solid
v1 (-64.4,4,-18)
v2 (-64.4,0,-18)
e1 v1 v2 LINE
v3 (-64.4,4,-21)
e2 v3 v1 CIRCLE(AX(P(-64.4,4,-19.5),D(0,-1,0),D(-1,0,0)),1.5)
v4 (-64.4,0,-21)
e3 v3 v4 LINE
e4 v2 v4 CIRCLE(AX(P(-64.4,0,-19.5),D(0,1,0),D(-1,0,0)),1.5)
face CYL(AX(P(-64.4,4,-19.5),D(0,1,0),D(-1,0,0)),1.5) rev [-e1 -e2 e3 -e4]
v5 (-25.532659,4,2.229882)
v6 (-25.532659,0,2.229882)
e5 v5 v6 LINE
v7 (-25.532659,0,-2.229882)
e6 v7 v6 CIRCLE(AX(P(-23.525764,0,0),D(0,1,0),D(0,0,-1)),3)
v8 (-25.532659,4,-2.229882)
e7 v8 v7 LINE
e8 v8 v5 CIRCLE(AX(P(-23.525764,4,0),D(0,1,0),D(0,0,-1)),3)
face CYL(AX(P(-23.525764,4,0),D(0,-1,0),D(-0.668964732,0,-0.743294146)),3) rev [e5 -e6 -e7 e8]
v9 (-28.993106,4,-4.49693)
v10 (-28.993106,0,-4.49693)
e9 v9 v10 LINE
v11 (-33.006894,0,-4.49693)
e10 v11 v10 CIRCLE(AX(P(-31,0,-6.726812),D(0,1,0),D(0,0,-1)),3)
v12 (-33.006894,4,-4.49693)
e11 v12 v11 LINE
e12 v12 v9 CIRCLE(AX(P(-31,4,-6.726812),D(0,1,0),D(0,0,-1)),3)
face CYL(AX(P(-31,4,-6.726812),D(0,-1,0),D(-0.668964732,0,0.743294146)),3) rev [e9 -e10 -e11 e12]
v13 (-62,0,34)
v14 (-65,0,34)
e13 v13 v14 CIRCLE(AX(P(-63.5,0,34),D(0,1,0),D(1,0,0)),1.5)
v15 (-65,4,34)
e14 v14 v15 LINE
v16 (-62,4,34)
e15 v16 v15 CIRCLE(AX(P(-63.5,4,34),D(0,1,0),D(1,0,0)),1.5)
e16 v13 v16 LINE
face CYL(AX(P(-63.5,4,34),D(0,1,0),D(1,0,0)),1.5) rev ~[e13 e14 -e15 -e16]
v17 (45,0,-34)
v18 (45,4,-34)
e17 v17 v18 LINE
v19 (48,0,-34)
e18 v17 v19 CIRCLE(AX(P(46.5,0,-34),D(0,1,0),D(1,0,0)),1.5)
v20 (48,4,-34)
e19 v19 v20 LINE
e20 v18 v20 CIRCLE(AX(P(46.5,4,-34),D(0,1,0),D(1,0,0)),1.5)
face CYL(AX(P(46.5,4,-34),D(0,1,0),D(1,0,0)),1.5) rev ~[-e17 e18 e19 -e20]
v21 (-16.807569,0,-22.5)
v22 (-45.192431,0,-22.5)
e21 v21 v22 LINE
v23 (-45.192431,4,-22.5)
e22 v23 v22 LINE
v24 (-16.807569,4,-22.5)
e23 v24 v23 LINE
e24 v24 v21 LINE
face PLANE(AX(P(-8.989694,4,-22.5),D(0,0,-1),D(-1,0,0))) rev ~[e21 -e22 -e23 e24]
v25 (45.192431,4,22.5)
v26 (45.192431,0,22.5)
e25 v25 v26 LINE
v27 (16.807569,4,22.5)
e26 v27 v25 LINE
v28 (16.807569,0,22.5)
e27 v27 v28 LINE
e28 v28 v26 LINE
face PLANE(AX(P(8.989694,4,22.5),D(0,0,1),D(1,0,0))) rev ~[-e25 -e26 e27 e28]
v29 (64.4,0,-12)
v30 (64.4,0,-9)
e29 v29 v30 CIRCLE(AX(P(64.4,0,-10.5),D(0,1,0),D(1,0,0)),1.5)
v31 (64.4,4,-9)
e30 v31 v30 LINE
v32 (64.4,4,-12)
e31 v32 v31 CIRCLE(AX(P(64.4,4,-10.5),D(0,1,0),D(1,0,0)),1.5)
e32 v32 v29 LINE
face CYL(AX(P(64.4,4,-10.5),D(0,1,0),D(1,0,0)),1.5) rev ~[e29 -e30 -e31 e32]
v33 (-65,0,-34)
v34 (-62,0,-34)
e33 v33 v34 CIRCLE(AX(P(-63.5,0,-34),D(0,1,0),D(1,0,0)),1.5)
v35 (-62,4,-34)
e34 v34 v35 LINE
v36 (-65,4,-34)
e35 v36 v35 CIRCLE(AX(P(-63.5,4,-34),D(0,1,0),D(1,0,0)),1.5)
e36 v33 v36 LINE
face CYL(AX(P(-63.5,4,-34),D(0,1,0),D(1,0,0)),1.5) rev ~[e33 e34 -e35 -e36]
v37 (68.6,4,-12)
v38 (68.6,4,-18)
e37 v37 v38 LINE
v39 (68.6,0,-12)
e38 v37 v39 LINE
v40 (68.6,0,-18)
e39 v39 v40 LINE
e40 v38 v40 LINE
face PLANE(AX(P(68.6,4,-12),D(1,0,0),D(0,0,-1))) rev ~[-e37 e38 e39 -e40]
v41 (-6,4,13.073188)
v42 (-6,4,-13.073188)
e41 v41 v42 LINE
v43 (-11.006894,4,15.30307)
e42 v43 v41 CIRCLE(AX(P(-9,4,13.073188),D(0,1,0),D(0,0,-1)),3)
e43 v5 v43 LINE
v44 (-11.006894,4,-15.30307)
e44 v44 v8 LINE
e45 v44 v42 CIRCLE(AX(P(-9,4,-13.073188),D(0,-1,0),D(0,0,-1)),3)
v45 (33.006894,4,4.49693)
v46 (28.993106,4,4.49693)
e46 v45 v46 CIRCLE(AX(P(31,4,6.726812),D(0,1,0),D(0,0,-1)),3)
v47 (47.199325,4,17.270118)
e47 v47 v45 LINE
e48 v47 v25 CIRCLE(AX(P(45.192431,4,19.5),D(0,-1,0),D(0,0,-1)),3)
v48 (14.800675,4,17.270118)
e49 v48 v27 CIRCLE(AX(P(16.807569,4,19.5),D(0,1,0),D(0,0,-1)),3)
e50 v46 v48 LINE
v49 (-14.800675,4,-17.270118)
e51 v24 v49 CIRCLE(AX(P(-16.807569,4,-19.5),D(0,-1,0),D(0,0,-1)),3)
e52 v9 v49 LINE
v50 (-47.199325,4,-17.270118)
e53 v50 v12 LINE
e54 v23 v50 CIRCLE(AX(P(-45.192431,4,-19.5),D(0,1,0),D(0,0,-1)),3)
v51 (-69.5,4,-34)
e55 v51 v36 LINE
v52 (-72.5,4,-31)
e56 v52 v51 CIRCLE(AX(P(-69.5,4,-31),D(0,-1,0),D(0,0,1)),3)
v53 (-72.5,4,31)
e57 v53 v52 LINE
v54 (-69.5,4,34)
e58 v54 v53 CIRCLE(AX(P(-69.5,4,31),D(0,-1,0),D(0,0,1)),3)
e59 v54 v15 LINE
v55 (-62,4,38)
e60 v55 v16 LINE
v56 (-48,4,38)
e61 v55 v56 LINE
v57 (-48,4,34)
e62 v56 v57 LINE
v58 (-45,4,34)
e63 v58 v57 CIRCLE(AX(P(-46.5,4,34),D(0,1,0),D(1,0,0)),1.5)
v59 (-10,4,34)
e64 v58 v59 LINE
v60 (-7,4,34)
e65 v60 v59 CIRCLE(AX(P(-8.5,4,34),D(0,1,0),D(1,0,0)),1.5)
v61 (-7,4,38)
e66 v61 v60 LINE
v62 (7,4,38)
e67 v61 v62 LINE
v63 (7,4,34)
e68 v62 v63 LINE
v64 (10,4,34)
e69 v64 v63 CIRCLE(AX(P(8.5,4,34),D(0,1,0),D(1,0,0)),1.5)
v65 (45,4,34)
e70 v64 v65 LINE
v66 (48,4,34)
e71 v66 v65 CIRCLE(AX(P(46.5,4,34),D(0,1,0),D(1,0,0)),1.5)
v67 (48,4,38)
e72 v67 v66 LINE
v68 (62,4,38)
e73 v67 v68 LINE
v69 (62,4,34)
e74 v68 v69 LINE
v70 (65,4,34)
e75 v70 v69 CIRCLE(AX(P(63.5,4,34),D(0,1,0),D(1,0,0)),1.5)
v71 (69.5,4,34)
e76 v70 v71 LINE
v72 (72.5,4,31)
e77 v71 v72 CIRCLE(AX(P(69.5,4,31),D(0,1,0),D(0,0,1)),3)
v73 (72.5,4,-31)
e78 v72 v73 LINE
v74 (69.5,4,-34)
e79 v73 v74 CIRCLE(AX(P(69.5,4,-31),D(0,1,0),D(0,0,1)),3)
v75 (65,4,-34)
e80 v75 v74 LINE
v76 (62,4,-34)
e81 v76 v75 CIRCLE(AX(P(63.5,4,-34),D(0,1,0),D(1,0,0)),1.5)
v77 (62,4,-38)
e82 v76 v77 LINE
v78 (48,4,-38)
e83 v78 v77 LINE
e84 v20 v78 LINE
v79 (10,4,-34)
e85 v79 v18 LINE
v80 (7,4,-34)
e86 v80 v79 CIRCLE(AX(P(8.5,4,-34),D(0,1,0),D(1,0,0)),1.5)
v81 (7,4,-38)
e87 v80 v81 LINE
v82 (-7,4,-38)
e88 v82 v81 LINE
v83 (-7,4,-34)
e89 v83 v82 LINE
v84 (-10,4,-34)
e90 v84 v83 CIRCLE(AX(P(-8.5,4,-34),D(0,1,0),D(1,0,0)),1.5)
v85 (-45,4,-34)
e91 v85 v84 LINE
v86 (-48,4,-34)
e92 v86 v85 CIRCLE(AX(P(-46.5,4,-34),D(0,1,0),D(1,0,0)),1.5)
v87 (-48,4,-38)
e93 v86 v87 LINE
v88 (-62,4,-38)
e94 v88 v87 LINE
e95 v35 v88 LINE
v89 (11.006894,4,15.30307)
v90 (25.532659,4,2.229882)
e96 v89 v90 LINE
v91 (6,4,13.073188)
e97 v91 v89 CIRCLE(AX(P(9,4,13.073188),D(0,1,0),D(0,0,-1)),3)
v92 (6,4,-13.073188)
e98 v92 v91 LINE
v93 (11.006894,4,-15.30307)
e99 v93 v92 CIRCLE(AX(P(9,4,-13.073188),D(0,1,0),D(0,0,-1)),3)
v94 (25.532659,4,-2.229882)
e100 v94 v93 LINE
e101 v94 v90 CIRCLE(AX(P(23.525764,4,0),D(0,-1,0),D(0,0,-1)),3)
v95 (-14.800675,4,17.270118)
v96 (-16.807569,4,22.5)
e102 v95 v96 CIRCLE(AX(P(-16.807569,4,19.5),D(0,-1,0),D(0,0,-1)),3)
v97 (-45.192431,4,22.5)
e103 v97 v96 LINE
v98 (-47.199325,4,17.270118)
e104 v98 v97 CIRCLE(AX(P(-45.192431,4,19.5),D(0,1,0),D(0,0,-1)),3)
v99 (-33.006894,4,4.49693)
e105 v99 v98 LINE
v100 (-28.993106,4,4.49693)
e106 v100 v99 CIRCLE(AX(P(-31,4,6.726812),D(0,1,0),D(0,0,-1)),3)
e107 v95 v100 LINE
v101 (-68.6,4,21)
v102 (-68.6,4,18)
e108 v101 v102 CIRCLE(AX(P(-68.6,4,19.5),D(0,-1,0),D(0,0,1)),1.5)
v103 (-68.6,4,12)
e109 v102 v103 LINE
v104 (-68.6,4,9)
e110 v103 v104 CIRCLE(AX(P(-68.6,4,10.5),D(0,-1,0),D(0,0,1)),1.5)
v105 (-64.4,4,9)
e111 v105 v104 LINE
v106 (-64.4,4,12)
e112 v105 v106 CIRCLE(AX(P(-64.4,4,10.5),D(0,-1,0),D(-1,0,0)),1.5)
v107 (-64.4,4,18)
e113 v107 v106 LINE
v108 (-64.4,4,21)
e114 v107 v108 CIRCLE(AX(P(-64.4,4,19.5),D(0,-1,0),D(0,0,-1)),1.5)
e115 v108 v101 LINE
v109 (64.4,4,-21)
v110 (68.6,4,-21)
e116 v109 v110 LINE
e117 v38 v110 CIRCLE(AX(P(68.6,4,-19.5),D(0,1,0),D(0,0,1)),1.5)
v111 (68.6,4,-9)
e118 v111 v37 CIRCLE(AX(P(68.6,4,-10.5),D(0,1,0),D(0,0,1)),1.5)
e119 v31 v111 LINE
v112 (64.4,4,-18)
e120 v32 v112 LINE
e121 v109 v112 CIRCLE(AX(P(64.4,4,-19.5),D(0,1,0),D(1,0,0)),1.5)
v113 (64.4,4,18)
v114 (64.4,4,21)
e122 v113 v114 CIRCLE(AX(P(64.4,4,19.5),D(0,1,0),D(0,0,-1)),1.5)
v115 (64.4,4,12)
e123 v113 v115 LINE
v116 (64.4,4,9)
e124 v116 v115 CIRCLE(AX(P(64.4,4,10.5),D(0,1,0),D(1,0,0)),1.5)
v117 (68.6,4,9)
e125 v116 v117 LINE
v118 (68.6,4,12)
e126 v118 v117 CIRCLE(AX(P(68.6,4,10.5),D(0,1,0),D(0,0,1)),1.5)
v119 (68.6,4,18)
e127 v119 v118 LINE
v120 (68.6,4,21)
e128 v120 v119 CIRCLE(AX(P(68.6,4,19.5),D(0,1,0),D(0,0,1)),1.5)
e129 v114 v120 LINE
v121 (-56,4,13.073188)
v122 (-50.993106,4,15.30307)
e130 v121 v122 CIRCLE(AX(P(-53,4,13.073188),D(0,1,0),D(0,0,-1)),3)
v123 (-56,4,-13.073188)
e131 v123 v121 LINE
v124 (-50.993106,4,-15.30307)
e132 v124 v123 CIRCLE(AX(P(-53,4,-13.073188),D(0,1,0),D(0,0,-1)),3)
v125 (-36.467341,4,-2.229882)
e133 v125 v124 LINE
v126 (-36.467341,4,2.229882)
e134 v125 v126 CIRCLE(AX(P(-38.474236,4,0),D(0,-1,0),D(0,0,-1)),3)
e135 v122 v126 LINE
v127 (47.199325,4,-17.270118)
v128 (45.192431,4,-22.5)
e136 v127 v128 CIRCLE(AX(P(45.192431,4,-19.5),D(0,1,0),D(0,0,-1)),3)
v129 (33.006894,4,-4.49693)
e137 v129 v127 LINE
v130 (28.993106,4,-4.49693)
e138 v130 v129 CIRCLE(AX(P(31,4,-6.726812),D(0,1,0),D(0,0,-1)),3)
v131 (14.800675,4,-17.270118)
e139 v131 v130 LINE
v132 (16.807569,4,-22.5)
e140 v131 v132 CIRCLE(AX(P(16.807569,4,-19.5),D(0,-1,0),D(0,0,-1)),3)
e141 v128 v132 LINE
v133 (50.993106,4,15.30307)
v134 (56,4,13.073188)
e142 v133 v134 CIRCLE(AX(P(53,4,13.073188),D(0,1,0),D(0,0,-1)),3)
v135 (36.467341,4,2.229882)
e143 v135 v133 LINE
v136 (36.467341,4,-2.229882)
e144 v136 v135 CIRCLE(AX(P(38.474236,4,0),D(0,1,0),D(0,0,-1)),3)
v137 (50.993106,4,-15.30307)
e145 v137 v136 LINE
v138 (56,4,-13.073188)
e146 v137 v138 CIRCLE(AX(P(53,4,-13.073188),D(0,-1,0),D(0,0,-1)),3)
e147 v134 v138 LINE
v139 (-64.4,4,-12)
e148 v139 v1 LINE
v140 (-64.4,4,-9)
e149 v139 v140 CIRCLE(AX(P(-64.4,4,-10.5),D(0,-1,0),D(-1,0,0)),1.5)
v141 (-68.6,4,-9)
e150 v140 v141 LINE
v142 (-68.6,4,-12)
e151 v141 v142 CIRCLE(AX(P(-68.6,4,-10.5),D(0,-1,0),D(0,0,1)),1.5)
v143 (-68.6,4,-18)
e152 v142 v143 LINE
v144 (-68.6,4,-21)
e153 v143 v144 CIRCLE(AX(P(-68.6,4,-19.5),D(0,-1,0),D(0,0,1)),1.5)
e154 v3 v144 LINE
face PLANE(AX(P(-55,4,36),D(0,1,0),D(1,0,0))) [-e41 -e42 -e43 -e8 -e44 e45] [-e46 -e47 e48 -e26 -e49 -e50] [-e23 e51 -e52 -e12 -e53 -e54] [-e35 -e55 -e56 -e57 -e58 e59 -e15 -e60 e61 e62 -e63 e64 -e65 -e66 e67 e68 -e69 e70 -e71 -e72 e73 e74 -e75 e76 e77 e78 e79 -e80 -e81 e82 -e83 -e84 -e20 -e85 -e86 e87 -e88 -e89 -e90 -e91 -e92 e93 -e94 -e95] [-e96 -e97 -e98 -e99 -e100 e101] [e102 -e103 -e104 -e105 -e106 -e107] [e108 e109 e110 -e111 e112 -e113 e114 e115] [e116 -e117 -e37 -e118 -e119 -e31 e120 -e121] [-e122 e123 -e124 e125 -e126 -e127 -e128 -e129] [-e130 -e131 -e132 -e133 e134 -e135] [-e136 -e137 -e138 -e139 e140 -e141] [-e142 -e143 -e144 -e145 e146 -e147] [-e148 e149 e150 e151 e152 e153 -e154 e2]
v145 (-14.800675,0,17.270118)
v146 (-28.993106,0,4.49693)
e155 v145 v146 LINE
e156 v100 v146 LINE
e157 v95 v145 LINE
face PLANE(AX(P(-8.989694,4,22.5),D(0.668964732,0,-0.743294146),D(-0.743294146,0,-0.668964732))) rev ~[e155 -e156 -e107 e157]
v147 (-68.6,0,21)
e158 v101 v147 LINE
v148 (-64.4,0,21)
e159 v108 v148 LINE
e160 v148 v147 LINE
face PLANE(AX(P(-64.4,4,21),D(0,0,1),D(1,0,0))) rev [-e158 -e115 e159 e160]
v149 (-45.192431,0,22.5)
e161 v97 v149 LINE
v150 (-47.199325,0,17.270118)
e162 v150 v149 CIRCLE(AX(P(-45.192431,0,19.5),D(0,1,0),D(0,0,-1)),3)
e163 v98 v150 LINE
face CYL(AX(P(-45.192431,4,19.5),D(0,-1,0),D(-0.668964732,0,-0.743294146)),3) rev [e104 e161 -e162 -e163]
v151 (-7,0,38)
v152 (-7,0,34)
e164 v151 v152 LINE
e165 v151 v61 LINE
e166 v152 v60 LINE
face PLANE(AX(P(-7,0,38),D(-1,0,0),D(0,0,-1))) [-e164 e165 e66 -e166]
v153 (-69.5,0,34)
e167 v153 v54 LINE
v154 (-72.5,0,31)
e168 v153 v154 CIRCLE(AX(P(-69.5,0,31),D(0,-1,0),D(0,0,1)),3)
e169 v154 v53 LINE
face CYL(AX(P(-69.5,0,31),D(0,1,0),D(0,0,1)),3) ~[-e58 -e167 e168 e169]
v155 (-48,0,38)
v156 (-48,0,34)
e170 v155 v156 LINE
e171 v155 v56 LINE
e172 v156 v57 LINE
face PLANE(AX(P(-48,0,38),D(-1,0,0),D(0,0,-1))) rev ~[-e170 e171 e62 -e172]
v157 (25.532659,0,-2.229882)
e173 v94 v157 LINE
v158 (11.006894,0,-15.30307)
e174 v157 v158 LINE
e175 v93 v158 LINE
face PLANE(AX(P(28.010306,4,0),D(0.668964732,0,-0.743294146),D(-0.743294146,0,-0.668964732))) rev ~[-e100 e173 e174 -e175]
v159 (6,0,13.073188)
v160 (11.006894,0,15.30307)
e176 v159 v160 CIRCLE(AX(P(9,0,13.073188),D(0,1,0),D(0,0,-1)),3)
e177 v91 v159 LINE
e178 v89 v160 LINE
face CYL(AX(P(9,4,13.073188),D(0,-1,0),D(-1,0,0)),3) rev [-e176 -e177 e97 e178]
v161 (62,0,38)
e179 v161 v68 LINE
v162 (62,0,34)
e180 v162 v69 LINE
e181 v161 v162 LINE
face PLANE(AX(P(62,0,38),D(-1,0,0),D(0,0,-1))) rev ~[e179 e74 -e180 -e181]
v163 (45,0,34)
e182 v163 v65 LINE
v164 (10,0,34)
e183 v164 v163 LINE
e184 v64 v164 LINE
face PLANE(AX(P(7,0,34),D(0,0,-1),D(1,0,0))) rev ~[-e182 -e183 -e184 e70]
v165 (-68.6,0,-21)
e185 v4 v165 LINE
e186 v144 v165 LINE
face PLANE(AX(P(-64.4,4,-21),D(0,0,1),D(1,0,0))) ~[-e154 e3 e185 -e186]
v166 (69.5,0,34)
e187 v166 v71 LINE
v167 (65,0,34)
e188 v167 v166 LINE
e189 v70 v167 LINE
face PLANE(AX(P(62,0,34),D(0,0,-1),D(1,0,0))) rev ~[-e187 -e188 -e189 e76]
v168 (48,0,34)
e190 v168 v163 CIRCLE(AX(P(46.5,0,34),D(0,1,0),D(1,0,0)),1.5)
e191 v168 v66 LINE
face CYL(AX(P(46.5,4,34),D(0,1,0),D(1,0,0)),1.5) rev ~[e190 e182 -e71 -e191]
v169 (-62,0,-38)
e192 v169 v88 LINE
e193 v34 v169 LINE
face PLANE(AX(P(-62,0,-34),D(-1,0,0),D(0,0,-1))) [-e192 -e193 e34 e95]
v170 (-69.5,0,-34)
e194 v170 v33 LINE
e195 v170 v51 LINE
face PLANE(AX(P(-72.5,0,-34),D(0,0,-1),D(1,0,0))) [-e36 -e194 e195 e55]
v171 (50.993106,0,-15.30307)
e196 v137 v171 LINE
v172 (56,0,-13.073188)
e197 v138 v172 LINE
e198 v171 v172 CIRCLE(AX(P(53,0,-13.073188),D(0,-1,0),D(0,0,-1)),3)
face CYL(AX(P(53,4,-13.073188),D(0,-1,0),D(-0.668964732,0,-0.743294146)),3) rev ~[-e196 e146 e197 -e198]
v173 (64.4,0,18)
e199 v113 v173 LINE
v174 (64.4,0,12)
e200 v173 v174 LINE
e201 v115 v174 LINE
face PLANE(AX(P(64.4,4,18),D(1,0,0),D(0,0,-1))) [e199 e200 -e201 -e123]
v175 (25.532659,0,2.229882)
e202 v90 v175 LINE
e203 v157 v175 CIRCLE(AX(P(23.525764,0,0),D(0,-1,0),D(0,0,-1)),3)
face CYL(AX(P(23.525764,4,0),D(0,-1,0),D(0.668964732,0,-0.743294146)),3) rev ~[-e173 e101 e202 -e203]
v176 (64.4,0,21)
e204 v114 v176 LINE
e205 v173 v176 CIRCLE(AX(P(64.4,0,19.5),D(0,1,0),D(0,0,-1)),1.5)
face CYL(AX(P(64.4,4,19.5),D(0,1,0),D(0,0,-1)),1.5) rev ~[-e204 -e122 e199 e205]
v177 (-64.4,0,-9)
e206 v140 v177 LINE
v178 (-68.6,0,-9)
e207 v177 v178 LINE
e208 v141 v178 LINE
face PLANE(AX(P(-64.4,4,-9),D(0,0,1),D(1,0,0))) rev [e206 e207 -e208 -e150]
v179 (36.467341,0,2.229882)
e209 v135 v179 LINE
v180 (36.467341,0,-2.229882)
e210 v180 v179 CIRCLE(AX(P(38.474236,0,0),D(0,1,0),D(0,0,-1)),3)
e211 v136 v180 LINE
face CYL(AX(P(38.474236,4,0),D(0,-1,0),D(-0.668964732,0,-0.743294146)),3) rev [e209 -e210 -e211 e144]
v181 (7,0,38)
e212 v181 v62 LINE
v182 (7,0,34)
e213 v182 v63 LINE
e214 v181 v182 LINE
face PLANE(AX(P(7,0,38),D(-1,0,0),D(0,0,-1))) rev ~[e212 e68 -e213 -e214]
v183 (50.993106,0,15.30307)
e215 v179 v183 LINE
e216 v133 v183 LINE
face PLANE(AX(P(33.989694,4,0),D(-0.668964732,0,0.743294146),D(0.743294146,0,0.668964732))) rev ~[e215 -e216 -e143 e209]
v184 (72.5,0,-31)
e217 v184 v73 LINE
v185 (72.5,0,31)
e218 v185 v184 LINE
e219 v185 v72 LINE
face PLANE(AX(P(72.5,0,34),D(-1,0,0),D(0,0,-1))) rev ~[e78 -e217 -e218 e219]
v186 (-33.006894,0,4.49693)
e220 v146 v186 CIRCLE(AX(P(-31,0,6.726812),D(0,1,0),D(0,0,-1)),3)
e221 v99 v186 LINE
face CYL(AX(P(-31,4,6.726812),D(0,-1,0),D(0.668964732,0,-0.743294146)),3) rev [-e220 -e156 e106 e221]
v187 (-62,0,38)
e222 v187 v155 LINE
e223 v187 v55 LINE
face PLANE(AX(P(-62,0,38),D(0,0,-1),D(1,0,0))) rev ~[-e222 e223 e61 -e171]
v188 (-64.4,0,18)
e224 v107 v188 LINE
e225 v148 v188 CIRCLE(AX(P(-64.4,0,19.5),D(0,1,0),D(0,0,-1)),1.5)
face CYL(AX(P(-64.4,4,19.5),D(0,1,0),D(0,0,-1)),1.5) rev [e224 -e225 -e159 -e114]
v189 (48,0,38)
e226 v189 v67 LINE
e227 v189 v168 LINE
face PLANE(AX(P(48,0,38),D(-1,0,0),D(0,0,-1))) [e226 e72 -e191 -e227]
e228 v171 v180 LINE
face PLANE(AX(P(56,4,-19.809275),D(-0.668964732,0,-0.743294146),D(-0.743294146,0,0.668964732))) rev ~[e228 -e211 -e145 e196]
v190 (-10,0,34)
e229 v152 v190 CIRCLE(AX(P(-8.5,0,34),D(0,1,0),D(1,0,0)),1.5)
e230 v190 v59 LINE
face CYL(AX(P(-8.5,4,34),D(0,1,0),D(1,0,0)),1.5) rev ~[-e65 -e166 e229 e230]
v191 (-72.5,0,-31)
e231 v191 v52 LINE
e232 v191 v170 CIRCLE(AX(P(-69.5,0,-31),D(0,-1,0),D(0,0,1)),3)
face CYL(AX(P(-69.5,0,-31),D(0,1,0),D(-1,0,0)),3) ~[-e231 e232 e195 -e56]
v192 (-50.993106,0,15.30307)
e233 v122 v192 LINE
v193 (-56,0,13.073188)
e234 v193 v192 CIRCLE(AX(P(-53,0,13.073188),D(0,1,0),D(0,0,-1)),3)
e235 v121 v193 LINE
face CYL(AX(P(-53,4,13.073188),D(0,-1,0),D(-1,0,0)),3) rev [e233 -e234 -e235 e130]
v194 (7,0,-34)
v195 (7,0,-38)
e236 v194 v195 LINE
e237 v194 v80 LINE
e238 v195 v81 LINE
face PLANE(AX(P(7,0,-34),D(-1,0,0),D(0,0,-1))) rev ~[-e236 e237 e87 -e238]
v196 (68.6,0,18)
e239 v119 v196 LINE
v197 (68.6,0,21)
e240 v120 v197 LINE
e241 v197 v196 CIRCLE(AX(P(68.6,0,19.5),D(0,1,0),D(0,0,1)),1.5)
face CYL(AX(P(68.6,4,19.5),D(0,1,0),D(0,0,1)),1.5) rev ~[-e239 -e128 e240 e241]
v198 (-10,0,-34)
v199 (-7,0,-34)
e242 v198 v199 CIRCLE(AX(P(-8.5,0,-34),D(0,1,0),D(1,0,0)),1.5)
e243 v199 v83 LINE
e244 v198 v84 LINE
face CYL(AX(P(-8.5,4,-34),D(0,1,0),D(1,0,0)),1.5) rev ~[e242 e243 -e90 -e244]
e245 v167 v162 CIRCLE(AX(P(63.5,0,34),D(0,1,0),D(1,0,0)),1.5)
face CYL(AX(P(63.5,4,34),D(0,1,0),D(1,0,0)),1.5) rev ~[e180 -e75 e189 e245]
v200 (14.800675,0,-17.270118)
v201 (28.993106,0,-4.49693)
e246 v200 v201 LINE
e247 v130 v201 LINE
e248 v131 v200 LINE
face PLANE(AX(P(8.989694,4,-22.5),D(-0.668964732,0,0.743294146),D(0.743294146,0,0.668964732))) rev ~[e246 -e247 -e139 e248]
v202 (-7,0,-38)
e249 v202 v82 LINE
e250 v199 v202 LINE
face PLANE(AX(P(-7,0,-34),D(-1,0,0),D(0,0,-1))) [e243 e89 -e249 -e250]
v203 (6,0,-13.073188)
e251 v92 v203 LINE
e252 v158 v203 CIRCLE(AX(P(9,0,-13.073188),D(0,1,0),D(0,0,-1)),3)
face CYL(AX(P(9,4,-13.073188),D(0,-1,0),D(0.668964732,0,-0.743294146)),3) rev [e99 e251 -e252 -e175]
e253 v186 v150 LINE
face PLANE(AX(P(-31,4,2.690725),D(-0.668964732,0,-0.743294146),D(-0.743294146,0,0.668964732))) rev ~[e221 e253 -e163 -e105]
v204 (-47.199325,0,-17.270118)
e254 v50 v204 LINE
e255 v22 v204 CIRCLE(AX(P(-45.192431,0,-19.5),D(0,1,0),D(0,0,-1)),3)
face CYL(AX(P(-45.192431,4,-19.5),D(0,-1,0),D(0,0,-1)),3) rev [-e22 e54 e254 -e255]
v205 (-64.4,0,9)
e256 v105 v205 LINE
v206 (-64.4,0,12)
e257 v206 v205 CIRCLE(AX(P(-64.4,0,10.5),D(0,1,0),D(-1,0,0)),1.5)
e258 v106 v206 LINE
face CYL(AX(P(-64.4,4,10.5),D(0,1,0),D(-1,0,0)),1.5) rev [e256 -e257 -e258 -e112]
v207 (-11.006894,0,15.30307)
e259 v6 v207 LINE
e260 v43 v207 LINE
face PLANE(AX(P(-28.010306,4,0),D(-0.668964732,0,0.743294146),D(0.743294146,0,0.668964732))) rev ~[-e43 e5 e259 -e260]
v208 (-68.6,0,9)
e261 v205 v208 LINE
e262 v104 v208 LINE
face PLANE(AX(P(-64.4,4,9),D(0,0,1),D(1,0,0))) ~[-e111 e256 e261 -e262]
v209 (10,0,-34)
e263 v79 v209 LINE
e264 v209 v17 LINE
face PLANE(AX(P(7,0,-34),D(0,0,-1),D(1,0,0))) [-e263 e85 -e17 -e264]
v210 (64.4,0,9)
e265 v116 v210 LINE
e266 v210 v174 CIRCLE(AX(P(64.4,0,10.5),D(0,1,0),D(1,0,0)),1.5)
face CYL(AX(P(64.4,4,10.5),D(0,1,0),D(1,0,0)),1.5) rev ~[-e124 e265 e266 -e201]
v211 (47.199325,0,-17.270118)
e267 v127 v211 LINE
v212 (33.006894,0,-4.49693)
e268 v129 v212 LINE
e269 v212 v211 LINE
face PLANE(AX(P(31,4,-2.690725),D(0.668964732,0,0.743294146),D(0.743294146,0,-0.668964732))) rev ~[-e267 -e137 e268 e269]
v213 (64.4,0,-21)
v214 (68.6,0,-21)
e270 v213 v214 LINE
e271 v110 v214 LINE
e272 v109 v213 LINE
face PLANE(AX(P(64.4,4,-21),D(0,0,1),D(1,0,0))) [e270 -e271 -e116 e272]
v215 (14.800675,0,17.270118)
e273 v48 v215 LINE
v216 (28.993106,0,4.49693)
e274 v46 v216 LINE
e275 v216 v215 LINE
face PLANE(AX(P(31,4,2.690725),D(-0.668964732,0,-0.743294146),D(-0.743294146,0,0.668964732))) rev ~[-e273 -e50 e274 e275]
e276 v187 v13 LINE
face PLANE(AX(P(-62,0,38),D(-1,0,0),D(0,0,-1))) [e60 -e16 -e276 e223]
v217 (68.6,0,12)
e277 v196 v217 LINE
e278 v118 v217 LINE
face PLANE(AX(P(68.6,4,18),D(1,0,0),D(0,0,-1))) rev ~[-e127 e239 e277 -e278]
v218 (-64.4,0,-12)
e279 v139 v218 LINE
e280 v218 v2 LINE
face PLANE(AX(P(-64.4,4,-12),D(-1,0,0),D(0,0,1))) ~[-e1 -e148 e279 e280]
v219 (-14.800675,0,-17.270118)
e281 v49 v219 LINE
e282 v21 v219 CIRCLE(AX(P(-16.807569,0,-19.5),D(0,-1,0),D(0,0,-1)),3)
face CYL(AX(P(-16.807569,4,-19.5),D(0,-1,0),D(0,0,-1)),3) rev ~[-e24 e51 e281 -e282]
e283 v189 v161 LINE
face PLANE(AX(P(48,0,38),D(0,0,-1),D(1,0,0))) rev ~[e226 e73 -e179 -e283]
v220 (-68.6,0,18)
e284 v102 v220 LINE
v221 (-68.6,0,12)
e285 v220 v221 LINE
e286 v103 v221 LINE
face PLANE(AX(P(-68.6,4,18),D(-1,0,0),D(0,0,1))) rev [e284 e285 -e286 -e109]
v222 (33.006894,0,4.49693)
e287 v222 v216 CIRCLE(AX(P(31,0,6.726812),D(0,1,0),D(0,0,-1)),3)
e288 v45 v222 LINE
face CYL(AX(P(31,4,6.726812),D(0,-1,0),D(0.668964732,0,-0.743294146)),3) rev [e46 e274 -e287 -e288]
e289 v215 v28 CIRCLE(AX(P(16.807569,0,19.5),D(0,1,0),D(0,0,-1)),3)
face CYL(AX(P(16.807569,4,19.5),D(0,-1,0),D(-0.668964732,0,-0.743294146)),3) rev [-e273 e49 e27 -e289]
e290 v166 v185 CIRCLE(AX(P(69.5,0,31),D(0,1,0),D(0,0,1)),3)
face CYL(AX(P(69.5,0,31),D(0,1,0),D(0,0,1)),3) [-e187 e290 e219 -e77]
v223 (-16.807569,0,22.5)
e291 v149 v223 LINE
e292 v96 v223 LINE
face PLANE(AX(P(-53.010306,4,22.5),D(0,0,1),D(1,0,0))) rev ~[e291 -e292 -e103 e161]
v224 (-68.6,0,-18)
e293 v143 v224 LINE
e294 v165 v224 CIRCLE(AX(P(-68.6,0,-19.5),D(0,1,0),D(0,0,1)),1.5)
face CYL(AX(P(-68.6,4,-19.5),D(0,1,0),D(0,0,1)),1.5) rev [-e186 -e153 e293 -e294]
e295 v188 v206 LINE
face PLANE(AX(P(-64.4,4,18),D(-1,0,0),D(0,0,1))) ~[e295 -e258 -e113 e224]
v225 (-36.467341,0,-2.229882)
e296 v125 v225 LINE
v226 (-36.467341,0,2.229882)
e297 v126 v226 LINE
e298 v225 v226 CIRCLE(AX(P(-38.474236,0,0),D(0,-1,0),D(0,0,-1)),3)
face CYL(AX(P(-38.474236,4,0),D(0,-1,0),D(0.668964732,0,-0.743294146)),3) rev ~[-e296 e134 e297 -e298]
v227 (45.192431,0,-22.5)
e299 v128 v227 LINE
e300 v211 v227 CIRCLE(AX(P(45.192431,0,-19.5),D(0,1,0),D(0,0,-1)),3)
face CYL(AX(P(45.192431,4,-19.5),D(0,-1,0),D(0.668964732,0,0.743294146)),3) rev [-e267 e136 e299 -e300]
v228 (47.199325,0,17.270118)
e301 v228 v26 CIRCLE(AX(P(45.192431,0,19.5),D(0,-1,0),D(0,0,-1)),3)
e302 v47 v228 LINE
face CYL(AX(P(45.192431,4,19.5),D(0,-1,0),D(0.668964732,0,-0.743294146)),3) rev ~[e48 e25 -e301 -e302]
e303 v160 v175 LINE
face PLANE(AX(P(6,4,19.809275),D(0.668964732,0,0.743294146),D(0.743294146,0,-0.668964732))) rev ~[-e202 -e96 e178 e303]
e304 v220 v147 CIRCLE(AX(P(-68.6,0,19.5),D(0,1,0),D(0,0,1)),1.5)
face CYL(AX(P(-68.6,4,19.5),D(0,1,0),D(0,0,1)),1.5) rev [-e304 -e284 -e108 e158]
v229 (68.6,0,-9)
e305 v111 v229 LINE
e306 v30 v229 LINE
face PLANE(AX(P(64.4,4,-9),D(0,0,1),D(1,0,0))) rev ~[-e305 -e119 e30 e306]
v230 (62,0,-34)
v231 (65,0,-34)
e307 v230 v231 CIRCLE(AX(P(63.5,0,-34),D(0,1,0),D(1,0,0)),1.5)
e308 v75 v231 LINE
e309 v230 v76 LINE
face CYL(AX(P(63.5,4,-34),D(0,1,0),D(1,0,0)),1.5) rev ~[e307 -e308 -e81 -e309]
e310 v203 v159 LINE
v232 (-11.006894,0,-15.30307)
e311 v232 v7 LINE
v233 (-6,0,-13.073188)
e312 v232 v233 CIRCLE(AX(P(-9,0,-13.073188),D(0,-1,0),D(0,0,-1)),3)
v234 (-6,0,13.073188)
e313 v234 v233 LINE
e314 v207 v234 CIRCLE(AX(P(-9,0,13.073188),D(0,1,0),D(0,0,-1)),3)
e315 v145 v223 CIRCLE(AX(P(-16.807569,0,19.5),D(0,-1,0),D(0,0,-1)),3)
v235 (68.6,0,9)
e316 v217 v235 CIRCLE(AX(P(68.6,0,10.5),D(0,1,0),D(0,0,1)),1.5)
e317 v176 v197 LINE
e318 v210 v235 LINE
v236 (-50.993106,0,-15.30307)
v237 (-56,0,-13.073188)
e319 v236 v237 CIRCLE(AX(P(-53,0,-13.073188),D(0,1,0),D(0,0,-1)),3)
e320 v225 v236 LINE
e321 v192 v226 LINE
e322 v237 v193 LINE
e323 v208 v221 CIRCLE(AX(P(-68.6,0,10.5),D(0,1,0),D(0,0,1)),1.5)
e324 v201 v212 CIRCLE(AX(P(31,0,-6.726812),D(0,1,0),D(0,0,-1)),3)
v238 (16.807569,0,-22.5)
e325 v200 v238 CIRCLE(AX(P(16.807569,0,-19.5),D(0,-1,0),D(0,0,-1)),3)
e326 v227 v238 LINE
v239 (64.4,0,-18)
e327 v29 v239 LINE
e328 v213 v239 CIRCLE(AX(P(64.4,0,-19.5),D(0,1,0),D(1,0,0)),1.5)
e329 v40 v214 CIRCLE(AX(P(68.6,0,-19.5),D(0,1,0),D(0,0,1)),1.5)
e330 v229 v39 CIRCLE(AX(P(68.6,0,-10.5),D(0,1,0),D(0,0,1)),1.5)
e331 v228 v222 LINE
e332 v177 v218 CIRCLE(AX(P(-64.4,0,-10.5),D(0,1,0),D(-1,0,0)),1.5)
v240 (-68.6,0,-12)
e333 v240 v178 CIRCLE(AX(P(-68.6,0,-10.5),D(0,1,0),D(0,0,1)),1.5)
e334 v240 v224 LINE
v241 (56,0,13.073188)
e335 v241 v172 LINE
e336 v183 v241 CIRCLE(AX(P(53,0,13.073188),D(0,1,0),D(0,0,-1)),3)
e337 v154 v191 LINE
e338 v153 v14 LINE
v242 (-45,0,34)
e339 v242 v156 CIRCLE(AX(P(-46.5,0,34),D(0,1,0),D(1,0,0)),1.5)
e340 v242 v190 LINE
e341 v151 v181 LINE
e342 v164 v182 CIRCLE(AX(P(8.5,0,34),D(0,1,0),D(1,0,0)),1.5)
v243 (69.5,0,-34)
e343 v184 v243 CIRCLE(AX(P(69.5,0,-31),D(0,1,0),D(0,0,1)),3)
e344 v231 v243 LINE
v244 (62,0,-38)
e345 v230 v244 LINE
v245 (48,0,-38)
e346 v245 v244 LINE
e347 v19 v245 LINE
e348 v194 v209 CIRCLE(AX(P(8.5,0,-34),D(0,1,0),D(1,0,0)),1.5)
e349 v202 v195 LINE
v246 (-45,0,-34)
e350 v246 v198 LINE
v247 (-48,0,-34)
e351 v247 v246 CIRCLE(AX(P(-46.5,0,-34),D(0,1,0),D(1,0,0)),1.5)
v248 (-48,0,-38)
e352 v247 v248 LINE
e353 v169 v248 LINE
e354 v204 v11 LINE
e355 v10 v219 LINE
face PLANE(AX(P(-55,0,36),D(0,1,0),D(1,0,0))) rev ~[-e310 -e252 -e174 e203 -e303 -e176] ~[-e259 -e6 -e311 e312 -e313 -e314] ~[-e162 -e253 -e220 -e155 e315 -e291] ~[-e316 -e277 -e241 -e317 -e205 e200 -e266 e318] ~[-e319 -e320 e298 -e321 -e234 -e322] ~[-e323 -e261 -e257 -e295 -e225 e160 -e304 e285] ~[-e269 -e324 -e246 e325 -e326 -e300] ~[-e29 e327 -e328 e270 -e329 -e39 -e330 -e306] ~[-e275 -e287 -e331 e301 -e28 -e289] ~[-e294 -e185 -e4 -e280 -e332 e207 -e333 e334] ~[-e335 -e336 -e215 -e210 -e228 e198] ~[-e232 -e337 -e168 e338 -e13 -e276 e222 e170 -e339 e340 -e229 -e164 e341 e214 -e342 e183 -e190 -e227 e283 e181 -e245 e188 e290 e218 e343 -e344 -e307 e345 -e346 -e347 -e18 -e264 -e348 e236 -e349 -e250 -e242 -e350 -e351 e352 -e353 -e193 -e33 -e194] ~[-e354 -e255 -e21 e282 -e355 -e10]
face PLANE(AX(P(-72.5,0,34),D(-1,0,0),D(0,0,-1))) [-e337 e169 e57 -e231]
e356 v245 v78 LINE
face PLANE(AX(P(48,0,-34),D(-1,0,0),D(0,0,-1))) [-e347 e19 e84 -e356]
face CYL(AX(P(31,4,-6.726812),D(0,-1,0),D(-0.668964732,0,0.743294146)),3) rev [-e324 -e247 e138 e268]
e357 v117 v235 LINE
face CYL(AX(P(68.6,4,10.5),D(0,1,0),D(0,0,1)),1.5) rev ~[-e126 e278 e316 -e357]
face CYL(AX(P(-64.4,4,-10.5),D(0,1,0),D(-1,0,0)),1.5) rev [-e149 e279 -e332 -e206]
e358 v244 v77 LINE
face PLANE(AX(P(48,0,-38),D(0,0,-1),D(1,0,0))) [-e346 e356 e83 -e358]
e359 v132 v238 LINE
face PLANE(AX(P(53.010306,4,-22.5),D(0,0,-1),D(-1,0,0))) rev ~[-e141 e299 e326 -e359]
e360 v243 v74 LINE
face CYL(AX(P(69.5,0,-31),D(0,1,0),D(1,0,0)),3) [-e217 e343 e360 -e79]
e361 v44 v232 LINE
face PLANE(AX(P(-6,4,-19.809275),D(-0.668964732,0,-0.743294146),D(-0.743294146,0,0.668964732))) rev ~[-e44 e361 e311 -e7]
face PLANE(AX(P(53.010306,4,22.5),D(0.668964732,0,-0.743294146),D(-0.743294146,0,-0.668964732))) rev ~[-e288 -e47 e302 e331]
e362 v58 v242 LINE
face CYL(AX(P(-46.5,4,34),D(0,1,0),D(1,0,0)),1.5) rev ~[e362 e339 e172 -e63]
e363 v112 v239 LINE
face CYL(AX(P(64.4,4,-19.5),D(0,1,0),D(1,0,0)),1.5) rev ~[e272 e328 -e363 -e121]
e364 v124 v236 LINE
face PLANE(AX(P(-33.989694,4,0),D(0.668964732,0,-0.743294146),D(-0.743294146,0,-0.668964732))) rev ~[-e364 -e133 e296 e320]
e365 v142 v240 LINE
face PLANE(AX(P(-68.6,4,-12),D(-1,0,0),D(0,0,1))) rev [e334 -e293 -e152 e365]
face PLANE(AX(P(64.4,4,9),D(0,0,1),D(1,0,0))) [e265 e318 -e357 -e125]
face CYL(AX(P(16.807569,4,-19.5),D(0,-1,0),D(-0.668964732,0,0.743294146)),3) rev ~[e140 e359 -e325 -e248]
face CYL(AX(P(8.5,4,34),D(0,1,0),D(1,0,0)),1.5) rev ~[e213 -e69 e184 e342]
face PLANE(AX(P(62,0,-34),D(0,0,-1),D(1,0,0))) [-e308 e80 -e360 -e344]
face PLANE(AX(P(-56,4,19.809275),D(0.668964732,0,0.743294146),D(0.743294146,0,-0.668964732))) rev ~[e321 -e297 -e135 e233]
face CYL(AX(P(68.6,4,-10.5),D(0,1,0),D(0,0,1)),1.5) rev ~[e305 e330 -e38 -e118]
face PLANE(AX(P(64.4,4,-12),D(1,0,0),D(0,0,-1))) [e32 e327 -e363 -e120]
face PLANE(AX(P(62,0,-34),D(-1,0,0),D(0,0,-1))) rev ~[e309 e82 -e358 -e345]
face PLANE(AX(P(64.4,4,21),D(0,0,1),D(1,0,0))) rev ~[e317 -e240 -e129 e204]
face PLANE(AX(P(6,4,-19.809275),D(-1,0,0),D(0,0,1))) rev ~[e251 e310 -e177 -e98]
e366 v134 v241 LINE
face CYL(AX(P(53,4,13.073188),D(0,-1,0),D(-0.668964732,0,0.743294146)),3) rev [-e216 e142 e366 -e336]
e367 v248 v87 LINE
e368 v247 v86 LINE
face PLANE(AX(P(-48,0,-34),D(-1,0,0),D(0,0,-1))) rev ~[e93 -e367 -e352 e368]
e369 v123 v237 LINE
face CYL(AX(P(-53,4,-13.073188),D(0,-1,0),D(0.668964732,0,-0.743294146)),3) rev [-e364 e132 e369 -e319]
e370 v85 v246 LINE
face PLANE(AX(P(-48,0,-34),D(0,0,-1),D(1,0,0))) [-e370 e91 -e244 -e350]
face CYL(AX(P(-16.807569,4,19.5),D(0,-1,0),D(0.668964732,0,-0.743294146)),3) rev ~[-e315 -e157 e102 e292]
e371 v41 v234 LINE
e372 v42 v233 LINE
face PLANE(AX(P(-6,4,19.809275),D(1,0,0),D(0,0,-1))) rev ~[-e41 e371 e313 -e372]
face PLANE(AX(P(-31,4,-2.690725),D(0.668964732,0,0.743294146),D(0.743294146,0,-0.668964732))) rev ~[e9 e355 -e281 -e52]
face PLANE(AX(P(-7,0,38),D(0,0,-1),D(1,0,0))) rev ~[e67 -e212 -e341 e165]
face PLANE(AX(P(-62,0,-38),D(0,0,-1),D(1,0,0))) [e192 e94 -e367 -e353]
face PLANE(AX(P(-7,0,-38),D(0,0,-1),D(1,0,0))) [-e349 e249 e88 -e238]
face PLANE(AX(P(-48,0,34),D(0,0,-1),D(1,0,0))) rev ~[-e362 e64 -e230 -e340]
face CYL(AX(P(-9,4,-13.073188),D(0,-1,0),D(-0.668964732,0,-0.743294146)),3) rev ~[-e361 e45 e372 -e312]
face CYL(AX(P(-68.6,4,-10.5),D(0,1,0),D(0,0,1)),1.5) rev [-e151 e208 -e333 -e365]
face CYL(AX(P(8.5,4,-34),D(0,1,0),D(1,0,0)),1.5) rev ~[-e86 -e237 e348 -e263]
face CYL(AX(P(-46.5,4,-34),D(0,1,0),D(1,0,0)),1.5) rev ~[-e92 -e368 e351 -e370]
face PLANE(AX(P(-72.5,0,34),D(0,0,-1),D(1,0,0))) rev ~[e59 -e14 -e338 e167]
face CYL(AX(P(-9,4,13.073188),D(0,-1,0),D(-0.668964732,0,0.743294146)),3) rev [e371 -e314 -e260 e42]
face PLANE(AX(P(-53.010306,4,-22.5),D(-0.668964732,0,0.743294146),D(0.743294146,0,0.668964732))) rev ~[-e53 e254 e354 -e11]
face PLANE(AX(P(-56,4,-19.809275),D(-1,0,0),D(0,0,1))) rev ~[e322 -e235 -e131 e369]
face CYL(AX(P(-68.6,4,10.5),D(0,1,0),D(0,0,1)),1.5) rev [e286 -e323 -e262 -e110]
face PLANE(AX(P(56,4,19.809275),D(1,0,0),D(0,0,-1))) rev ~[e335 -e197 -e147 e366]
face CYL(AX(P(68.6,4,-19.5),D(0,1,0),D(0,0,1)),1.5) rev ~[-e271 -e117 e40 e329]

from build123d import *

# Parameters (mm, degrees)
SKETCH_1_W          = 14
SKETCH_1_H          = 4
SKETCH_1_W_2        = 145
SKETCH_1_H_2        = 68
EXTRUDE_1_DEPTH     = 4
SKETCH_2_R          = 1.5
CUT_EXTRUDE_1_DEPTH = 4
SKETCH_3_R          = 1.5
SKETCH_3_W          = 4.2
SKETCH_3_H          = 12
CUT_EXTRUDE_2_DEPTH = 10
CUT_EXTRUDE_3_DEPTH = 5
FILLET_1_R          = 3
FILLET_2_R          = 3


with BuildPart() as part:
    # 草图1 → 凸台-拉伸1 (new body)
    with BuildSketch(Plane(origin=(0, 0, 0), x_dir=(1, 0, 0), z_dir=(0, 1, 0))):
        with Locations((-55, -36)):
            Rectangle(SKETCH_1_W, SKETCH_1_H)
        Rectangle(SKETCH_1_W_2, SKETCH_1_H_2)
        with Locations((0, -36)):
            Rectangle(SKETCH_1_W, SKETCH_1_H)
        with Locations((55, -36)):
            Rectangle(SKETCH_1_W, SKETCH_1_H)
        with Locations((-55, 36)):
            Rectangle(SKETCH_1_W, SKETCH_1_H)
        with Locations((55, 36)):
            Rectangle(SKETCH_1_W, SKETCH_1_H)
        with Locations((0, 36)):
            Rectangle(SKETCH_1_W, SKETCH_1_H)
    extrude(amount=EXTRUDE_1_DEPTH)

    # 草图2 → 切除-拉伸1 (cut)
    with BuildSketch(Plane(origin=(0, 4, 0), x_dir=(1, 0, 0), z_dir=(0, 1, 0))):
        with Locations((-63.5, 34)):
            Circle(SKETCH_2_R)
        with Locations((-46.5, 34)):
            Circle(SKETCH_2_R)
        with Locations((-8.5, 34)):
            Circle(SKETCH_2_R)
        with Locations((-63.5, -34)):
            Circle(SKETCH_2_R)
        with Locations((-46.5, -34)):
            Circle(SKETCH_2_R)
        with Locations((-8.5, -34)):
            Circle(SKETCH_2_R)
        with Locations((8.5, 34)):
            Circle(SKETCH_2_R)
        with Locations((46.5, 34)):
            Circle(SKETCH_2_R)
        with Locations((46.5, -34)):
            Circle(SKETCH_2_R)
        with Locations((8.5, -34)):
            Circle(SKETCH_2_R)
        with Locations((63.5, -34)):
            Circle(SKETCH_2_R)
        with Locations((63.5, 34)):
            Circle(SKETCH_2_R)
    extrude(amount=-CUT_EXTRUDE_1_DEPTH, mode=Mode.SUBTRACT)

    # 草图3 → 切除-拉伸2 (cut)
    with BuildSketch(Plane(origin=(0, 4, 0), x_dir=(1, 0, 0), z_dir=(0, 1, 0))):
        with Locations((68.6, 10.5)):
            Circle(SKETCH_3_R)
        with Locations((68.6, 19.5)):
            Circle(SKETCH_3_R)
        with Locations((64.4, 19.5)):
            Circle(SKETCH_3_R)
        with Locations((64.4, 10.5)):
            Circle(SKETCH_3_R)
        with Locations((66.5, 15)):
            Rectangle(SKETCH_3_W, SKETCH_3_H)
        with BuildLine():
            ThreePointArc((65.9, 10.5), (65.460660172, 11.560660172), (64.4, 12))
            Line((64.4, 12), (64.4, 9))
            ThreePointArc((64.4, 9), (65.460660172, 9.439339828), (65.9, 10.5))
        make_face()
        with BuildLine():
            Line((64.4, 9), (64.4, 12))
            ThreePointArc((64.4, 12), (62.9, 10.5), (64.4, 9))
        make_face()
        with BuildLine():
            ThreePointArc((65.9, 19.5), (65.460660172, 20.560660172), (64.4, 21))
            Line((64.4, 21), (64.4, 18))
            ThreePointArc((64.4, 18), (65.460660172, 18.439339828), (65.9, 19.5))
        make_face()
        with BuildLine():
            Line((64.4, 18), (64.4, 21))
            ThreePointArc((64.4, 21), (62.9, 19.5), (64.4, 18))
        make_face()
        with BuildLine():
            ThreePointArc((70.1, 19.5), (69.660660172, 20.560660172), (68.6, 21))
            Line((68.6, 21), (68.6, 18))
            ThreePointArc((68.6, 18), (69.660660172, 18.439339828), (70.1, 19.5))
        make_face()
        with BuildLine():
            Line((68.6, 18), (68.6, 21))
            ThreePointArc((68.6, 21), (67.1, 19.5), (68.6, 18))
        make_face()
        with BuildLine():
            ThreePointArc((70.1, 10.5), (69.660660172, 11.560660172), (68.6, 12))
            Line((68.6, 12), (68.6, 9))
            ThreePointArc((68.6, 9), (69.660660172, 9.439339828), (70.1, 10.5))
        make_face()
        with BuildLine():
            Line((68.6, 9), (68.6, 12))
            ThreePointArc((68.6, 12), (67.1, 10.5), (68.6, 9))
        make_face()
        with BuildLine():
            ThreePointArc((64.4, -18), (62.9, -19.5), (64.4, -21))
            Line((64.4, -21), (64.4, -18))
        make_face()
        with BuildLine():
            Line((64.4, -18), (64.4, -21))
            ThreePointArc((64.4, -21), (65.460660172, -20.560660172), (65.9, -19.5))
            ThreePointArc((65.9, -19.5), (65.460660172, -18.439339828), (64.4, -18))
        make_face()
        with Locations((64.4, -19.5)):
            Circle(SKETCH_3_R)
        with Locations((68.6, -19.5)):
            Circle(SKETCH_3_R)
        with Locations((68.6, -10.5)):
            Circle(SKETCH_3_R)
        with Locations((64.4, -10.5)):
            Circle(SKETCH_3_R)
        with Locations((66.5, -15)):
            Rectangle(SKETCH_3_W, SKETCH_3_H)
        with BuildLine():
            ThreePointArc((68.6, -18), (67.1, -19.5), (68.6, -21))
            Line((68.6, -21), (68.6, -18))
        make_face()
        with BuildLine():
            Line((68.6, -18), (68.6, -21))
            ThreePointArc((68.6, -21), (69.660660172, -20.560660172), (70.1, -19.5))
            ThreePointArc((70.1, -19.5), (69.660660172, -18.439339828), (68.6, -18))
        make_face()
        with BuildLine():
            ThreePointArc((64.4, -9), (62.9, -10.5), (64.4, -12))
            Line((64.4, -12), (64.4, -9))
        make_face()
        with BuildLine():
            Line((64.4, -9), (64.4, -12))
            ThreePointArc((64.4, -12), (65.460660172, -11.560660172), (65.9, -10.5))
            ThreePointArc((65.9, -10.5), (65.460660172, -9.439339828), (64.4, -9))
        make_face()
        with BuildLine():
            ThreePointArc((68.6, -9), (67.1, -10.5), (68.6, -12))
            Line((68.6, -12), (68.6, -9))
        make_face()
        with BuildLine():
            Line((68.6, -9), (68.6, -12))
            ThreePointArc((68.6, -12), (69.660660172, -11.560660172), (70.1, -10.5))
            ThreePointArc((70.1, -10.5), (69.660660172, -9.439339828), (68.6, -9))
        make_face()
    cut_extrude_2 = extrude(amount=-CUT_EXTRUDE_2_DEPTH, mode=Mode.SUBTRACT)

    # 镜向1: 切除-拉伸2 across plane
    add(cut_extrude_2.mirror(Plane(origin=(0, 0, 0), x_dir=(0, 0, 1), z_dir=(1, 0, 0))), mode=Mode.SUBTRACT)

    # 草图4 → 切除-拉伸3 (cut)
    with BuildSketch(Plane(origin=(0, 4, 0), x_dir=(1, 0, 0), z_dir=(0, 1, 0))):
        Polygon((-33.989694233, 0), (-56, 19.809275191), (-56, -19.809275191), align=None)
        Polygon((-8.989694233, 22.5), (-53.010305767, 22.5), (-31, 2.690724809), align=None)
        Polygon((-6, 19.809275191), (-28.010305767, 0), (-6, -19.809275191), align=None)
        Polygon((-8.989694233, -22.5), (-31, -2.690724809), (-53.010305767, -22.5), align=None)
        Polygon((28.010305767, 0), (6, 19.809275191), (6, -19.809275191), align=None)
        Polygon((8.989694233, 22.5), (31, 2.690724809), (53.010305767, 22.5), align=None)
        Polygon((56, 19.809275191), (33.989694233, 0), (56, -19.809275191), align=None)
        Polygon((53.010305767, -22.5), (31, -2.690724809), (8.989694233, -22.5), align=None)
    extrude(amount=-CUT_EXTRUDE_3_DEPTH, mode=Mode.SUBTRACT)

    # 圆角1
    fillet_1_edges = [part.edges().sort_by_distance(p)[0] for p in [
        (6, 2, -19.809275191),
        (28.010305767, 2, 0),
        (6, 2, 19.809275191),
        (-31, 2, 2.690724809),
        (-8.989694233, 2, 22.5),
        (-53.010305767, 2, 22.5),
        (-8.989694233, 2, -22.5),
        (-31, 2, -2.690724809),
        (-53.010305767, 2, -22.5),
        (-6, 2, -19.809275191),
        (-6, 2, 19.809275191),
        (-28.010305767, 2, 0),
        (53.010305767, 2, 22.5),
        (8.989694233, 2, 22.5),
        (31, 2, 2.690724809),
        (53.010305767, 2, -22.5),
        (31, 2, -2.690724809),
        (8.989694233, 2, -22.5),
        (56, 2, -19.809275191),
        (56, 2, 19.809275191),
        (33.989694233, 2, 0),
        (-33.989694233, 2, 0),
        (-56, 2, 19.809275191),
        (-56, 2, -19.809275191),
    ]]
    fillet(fillet_1_edges, radius=FILLET_1_R)

    # 圆角2
    fillet_2_edges = [part.edges().sort_by_distance(p)[0] for p in [
        (-72.5, 2, 34),
        (-72.5, 2, -34),
        (72.5, 2, -34),
        (72.5, 2, 34),
    ]]
    fillet(fillet_2_edges, radius=FILLET_2_R)


solid = part.part
